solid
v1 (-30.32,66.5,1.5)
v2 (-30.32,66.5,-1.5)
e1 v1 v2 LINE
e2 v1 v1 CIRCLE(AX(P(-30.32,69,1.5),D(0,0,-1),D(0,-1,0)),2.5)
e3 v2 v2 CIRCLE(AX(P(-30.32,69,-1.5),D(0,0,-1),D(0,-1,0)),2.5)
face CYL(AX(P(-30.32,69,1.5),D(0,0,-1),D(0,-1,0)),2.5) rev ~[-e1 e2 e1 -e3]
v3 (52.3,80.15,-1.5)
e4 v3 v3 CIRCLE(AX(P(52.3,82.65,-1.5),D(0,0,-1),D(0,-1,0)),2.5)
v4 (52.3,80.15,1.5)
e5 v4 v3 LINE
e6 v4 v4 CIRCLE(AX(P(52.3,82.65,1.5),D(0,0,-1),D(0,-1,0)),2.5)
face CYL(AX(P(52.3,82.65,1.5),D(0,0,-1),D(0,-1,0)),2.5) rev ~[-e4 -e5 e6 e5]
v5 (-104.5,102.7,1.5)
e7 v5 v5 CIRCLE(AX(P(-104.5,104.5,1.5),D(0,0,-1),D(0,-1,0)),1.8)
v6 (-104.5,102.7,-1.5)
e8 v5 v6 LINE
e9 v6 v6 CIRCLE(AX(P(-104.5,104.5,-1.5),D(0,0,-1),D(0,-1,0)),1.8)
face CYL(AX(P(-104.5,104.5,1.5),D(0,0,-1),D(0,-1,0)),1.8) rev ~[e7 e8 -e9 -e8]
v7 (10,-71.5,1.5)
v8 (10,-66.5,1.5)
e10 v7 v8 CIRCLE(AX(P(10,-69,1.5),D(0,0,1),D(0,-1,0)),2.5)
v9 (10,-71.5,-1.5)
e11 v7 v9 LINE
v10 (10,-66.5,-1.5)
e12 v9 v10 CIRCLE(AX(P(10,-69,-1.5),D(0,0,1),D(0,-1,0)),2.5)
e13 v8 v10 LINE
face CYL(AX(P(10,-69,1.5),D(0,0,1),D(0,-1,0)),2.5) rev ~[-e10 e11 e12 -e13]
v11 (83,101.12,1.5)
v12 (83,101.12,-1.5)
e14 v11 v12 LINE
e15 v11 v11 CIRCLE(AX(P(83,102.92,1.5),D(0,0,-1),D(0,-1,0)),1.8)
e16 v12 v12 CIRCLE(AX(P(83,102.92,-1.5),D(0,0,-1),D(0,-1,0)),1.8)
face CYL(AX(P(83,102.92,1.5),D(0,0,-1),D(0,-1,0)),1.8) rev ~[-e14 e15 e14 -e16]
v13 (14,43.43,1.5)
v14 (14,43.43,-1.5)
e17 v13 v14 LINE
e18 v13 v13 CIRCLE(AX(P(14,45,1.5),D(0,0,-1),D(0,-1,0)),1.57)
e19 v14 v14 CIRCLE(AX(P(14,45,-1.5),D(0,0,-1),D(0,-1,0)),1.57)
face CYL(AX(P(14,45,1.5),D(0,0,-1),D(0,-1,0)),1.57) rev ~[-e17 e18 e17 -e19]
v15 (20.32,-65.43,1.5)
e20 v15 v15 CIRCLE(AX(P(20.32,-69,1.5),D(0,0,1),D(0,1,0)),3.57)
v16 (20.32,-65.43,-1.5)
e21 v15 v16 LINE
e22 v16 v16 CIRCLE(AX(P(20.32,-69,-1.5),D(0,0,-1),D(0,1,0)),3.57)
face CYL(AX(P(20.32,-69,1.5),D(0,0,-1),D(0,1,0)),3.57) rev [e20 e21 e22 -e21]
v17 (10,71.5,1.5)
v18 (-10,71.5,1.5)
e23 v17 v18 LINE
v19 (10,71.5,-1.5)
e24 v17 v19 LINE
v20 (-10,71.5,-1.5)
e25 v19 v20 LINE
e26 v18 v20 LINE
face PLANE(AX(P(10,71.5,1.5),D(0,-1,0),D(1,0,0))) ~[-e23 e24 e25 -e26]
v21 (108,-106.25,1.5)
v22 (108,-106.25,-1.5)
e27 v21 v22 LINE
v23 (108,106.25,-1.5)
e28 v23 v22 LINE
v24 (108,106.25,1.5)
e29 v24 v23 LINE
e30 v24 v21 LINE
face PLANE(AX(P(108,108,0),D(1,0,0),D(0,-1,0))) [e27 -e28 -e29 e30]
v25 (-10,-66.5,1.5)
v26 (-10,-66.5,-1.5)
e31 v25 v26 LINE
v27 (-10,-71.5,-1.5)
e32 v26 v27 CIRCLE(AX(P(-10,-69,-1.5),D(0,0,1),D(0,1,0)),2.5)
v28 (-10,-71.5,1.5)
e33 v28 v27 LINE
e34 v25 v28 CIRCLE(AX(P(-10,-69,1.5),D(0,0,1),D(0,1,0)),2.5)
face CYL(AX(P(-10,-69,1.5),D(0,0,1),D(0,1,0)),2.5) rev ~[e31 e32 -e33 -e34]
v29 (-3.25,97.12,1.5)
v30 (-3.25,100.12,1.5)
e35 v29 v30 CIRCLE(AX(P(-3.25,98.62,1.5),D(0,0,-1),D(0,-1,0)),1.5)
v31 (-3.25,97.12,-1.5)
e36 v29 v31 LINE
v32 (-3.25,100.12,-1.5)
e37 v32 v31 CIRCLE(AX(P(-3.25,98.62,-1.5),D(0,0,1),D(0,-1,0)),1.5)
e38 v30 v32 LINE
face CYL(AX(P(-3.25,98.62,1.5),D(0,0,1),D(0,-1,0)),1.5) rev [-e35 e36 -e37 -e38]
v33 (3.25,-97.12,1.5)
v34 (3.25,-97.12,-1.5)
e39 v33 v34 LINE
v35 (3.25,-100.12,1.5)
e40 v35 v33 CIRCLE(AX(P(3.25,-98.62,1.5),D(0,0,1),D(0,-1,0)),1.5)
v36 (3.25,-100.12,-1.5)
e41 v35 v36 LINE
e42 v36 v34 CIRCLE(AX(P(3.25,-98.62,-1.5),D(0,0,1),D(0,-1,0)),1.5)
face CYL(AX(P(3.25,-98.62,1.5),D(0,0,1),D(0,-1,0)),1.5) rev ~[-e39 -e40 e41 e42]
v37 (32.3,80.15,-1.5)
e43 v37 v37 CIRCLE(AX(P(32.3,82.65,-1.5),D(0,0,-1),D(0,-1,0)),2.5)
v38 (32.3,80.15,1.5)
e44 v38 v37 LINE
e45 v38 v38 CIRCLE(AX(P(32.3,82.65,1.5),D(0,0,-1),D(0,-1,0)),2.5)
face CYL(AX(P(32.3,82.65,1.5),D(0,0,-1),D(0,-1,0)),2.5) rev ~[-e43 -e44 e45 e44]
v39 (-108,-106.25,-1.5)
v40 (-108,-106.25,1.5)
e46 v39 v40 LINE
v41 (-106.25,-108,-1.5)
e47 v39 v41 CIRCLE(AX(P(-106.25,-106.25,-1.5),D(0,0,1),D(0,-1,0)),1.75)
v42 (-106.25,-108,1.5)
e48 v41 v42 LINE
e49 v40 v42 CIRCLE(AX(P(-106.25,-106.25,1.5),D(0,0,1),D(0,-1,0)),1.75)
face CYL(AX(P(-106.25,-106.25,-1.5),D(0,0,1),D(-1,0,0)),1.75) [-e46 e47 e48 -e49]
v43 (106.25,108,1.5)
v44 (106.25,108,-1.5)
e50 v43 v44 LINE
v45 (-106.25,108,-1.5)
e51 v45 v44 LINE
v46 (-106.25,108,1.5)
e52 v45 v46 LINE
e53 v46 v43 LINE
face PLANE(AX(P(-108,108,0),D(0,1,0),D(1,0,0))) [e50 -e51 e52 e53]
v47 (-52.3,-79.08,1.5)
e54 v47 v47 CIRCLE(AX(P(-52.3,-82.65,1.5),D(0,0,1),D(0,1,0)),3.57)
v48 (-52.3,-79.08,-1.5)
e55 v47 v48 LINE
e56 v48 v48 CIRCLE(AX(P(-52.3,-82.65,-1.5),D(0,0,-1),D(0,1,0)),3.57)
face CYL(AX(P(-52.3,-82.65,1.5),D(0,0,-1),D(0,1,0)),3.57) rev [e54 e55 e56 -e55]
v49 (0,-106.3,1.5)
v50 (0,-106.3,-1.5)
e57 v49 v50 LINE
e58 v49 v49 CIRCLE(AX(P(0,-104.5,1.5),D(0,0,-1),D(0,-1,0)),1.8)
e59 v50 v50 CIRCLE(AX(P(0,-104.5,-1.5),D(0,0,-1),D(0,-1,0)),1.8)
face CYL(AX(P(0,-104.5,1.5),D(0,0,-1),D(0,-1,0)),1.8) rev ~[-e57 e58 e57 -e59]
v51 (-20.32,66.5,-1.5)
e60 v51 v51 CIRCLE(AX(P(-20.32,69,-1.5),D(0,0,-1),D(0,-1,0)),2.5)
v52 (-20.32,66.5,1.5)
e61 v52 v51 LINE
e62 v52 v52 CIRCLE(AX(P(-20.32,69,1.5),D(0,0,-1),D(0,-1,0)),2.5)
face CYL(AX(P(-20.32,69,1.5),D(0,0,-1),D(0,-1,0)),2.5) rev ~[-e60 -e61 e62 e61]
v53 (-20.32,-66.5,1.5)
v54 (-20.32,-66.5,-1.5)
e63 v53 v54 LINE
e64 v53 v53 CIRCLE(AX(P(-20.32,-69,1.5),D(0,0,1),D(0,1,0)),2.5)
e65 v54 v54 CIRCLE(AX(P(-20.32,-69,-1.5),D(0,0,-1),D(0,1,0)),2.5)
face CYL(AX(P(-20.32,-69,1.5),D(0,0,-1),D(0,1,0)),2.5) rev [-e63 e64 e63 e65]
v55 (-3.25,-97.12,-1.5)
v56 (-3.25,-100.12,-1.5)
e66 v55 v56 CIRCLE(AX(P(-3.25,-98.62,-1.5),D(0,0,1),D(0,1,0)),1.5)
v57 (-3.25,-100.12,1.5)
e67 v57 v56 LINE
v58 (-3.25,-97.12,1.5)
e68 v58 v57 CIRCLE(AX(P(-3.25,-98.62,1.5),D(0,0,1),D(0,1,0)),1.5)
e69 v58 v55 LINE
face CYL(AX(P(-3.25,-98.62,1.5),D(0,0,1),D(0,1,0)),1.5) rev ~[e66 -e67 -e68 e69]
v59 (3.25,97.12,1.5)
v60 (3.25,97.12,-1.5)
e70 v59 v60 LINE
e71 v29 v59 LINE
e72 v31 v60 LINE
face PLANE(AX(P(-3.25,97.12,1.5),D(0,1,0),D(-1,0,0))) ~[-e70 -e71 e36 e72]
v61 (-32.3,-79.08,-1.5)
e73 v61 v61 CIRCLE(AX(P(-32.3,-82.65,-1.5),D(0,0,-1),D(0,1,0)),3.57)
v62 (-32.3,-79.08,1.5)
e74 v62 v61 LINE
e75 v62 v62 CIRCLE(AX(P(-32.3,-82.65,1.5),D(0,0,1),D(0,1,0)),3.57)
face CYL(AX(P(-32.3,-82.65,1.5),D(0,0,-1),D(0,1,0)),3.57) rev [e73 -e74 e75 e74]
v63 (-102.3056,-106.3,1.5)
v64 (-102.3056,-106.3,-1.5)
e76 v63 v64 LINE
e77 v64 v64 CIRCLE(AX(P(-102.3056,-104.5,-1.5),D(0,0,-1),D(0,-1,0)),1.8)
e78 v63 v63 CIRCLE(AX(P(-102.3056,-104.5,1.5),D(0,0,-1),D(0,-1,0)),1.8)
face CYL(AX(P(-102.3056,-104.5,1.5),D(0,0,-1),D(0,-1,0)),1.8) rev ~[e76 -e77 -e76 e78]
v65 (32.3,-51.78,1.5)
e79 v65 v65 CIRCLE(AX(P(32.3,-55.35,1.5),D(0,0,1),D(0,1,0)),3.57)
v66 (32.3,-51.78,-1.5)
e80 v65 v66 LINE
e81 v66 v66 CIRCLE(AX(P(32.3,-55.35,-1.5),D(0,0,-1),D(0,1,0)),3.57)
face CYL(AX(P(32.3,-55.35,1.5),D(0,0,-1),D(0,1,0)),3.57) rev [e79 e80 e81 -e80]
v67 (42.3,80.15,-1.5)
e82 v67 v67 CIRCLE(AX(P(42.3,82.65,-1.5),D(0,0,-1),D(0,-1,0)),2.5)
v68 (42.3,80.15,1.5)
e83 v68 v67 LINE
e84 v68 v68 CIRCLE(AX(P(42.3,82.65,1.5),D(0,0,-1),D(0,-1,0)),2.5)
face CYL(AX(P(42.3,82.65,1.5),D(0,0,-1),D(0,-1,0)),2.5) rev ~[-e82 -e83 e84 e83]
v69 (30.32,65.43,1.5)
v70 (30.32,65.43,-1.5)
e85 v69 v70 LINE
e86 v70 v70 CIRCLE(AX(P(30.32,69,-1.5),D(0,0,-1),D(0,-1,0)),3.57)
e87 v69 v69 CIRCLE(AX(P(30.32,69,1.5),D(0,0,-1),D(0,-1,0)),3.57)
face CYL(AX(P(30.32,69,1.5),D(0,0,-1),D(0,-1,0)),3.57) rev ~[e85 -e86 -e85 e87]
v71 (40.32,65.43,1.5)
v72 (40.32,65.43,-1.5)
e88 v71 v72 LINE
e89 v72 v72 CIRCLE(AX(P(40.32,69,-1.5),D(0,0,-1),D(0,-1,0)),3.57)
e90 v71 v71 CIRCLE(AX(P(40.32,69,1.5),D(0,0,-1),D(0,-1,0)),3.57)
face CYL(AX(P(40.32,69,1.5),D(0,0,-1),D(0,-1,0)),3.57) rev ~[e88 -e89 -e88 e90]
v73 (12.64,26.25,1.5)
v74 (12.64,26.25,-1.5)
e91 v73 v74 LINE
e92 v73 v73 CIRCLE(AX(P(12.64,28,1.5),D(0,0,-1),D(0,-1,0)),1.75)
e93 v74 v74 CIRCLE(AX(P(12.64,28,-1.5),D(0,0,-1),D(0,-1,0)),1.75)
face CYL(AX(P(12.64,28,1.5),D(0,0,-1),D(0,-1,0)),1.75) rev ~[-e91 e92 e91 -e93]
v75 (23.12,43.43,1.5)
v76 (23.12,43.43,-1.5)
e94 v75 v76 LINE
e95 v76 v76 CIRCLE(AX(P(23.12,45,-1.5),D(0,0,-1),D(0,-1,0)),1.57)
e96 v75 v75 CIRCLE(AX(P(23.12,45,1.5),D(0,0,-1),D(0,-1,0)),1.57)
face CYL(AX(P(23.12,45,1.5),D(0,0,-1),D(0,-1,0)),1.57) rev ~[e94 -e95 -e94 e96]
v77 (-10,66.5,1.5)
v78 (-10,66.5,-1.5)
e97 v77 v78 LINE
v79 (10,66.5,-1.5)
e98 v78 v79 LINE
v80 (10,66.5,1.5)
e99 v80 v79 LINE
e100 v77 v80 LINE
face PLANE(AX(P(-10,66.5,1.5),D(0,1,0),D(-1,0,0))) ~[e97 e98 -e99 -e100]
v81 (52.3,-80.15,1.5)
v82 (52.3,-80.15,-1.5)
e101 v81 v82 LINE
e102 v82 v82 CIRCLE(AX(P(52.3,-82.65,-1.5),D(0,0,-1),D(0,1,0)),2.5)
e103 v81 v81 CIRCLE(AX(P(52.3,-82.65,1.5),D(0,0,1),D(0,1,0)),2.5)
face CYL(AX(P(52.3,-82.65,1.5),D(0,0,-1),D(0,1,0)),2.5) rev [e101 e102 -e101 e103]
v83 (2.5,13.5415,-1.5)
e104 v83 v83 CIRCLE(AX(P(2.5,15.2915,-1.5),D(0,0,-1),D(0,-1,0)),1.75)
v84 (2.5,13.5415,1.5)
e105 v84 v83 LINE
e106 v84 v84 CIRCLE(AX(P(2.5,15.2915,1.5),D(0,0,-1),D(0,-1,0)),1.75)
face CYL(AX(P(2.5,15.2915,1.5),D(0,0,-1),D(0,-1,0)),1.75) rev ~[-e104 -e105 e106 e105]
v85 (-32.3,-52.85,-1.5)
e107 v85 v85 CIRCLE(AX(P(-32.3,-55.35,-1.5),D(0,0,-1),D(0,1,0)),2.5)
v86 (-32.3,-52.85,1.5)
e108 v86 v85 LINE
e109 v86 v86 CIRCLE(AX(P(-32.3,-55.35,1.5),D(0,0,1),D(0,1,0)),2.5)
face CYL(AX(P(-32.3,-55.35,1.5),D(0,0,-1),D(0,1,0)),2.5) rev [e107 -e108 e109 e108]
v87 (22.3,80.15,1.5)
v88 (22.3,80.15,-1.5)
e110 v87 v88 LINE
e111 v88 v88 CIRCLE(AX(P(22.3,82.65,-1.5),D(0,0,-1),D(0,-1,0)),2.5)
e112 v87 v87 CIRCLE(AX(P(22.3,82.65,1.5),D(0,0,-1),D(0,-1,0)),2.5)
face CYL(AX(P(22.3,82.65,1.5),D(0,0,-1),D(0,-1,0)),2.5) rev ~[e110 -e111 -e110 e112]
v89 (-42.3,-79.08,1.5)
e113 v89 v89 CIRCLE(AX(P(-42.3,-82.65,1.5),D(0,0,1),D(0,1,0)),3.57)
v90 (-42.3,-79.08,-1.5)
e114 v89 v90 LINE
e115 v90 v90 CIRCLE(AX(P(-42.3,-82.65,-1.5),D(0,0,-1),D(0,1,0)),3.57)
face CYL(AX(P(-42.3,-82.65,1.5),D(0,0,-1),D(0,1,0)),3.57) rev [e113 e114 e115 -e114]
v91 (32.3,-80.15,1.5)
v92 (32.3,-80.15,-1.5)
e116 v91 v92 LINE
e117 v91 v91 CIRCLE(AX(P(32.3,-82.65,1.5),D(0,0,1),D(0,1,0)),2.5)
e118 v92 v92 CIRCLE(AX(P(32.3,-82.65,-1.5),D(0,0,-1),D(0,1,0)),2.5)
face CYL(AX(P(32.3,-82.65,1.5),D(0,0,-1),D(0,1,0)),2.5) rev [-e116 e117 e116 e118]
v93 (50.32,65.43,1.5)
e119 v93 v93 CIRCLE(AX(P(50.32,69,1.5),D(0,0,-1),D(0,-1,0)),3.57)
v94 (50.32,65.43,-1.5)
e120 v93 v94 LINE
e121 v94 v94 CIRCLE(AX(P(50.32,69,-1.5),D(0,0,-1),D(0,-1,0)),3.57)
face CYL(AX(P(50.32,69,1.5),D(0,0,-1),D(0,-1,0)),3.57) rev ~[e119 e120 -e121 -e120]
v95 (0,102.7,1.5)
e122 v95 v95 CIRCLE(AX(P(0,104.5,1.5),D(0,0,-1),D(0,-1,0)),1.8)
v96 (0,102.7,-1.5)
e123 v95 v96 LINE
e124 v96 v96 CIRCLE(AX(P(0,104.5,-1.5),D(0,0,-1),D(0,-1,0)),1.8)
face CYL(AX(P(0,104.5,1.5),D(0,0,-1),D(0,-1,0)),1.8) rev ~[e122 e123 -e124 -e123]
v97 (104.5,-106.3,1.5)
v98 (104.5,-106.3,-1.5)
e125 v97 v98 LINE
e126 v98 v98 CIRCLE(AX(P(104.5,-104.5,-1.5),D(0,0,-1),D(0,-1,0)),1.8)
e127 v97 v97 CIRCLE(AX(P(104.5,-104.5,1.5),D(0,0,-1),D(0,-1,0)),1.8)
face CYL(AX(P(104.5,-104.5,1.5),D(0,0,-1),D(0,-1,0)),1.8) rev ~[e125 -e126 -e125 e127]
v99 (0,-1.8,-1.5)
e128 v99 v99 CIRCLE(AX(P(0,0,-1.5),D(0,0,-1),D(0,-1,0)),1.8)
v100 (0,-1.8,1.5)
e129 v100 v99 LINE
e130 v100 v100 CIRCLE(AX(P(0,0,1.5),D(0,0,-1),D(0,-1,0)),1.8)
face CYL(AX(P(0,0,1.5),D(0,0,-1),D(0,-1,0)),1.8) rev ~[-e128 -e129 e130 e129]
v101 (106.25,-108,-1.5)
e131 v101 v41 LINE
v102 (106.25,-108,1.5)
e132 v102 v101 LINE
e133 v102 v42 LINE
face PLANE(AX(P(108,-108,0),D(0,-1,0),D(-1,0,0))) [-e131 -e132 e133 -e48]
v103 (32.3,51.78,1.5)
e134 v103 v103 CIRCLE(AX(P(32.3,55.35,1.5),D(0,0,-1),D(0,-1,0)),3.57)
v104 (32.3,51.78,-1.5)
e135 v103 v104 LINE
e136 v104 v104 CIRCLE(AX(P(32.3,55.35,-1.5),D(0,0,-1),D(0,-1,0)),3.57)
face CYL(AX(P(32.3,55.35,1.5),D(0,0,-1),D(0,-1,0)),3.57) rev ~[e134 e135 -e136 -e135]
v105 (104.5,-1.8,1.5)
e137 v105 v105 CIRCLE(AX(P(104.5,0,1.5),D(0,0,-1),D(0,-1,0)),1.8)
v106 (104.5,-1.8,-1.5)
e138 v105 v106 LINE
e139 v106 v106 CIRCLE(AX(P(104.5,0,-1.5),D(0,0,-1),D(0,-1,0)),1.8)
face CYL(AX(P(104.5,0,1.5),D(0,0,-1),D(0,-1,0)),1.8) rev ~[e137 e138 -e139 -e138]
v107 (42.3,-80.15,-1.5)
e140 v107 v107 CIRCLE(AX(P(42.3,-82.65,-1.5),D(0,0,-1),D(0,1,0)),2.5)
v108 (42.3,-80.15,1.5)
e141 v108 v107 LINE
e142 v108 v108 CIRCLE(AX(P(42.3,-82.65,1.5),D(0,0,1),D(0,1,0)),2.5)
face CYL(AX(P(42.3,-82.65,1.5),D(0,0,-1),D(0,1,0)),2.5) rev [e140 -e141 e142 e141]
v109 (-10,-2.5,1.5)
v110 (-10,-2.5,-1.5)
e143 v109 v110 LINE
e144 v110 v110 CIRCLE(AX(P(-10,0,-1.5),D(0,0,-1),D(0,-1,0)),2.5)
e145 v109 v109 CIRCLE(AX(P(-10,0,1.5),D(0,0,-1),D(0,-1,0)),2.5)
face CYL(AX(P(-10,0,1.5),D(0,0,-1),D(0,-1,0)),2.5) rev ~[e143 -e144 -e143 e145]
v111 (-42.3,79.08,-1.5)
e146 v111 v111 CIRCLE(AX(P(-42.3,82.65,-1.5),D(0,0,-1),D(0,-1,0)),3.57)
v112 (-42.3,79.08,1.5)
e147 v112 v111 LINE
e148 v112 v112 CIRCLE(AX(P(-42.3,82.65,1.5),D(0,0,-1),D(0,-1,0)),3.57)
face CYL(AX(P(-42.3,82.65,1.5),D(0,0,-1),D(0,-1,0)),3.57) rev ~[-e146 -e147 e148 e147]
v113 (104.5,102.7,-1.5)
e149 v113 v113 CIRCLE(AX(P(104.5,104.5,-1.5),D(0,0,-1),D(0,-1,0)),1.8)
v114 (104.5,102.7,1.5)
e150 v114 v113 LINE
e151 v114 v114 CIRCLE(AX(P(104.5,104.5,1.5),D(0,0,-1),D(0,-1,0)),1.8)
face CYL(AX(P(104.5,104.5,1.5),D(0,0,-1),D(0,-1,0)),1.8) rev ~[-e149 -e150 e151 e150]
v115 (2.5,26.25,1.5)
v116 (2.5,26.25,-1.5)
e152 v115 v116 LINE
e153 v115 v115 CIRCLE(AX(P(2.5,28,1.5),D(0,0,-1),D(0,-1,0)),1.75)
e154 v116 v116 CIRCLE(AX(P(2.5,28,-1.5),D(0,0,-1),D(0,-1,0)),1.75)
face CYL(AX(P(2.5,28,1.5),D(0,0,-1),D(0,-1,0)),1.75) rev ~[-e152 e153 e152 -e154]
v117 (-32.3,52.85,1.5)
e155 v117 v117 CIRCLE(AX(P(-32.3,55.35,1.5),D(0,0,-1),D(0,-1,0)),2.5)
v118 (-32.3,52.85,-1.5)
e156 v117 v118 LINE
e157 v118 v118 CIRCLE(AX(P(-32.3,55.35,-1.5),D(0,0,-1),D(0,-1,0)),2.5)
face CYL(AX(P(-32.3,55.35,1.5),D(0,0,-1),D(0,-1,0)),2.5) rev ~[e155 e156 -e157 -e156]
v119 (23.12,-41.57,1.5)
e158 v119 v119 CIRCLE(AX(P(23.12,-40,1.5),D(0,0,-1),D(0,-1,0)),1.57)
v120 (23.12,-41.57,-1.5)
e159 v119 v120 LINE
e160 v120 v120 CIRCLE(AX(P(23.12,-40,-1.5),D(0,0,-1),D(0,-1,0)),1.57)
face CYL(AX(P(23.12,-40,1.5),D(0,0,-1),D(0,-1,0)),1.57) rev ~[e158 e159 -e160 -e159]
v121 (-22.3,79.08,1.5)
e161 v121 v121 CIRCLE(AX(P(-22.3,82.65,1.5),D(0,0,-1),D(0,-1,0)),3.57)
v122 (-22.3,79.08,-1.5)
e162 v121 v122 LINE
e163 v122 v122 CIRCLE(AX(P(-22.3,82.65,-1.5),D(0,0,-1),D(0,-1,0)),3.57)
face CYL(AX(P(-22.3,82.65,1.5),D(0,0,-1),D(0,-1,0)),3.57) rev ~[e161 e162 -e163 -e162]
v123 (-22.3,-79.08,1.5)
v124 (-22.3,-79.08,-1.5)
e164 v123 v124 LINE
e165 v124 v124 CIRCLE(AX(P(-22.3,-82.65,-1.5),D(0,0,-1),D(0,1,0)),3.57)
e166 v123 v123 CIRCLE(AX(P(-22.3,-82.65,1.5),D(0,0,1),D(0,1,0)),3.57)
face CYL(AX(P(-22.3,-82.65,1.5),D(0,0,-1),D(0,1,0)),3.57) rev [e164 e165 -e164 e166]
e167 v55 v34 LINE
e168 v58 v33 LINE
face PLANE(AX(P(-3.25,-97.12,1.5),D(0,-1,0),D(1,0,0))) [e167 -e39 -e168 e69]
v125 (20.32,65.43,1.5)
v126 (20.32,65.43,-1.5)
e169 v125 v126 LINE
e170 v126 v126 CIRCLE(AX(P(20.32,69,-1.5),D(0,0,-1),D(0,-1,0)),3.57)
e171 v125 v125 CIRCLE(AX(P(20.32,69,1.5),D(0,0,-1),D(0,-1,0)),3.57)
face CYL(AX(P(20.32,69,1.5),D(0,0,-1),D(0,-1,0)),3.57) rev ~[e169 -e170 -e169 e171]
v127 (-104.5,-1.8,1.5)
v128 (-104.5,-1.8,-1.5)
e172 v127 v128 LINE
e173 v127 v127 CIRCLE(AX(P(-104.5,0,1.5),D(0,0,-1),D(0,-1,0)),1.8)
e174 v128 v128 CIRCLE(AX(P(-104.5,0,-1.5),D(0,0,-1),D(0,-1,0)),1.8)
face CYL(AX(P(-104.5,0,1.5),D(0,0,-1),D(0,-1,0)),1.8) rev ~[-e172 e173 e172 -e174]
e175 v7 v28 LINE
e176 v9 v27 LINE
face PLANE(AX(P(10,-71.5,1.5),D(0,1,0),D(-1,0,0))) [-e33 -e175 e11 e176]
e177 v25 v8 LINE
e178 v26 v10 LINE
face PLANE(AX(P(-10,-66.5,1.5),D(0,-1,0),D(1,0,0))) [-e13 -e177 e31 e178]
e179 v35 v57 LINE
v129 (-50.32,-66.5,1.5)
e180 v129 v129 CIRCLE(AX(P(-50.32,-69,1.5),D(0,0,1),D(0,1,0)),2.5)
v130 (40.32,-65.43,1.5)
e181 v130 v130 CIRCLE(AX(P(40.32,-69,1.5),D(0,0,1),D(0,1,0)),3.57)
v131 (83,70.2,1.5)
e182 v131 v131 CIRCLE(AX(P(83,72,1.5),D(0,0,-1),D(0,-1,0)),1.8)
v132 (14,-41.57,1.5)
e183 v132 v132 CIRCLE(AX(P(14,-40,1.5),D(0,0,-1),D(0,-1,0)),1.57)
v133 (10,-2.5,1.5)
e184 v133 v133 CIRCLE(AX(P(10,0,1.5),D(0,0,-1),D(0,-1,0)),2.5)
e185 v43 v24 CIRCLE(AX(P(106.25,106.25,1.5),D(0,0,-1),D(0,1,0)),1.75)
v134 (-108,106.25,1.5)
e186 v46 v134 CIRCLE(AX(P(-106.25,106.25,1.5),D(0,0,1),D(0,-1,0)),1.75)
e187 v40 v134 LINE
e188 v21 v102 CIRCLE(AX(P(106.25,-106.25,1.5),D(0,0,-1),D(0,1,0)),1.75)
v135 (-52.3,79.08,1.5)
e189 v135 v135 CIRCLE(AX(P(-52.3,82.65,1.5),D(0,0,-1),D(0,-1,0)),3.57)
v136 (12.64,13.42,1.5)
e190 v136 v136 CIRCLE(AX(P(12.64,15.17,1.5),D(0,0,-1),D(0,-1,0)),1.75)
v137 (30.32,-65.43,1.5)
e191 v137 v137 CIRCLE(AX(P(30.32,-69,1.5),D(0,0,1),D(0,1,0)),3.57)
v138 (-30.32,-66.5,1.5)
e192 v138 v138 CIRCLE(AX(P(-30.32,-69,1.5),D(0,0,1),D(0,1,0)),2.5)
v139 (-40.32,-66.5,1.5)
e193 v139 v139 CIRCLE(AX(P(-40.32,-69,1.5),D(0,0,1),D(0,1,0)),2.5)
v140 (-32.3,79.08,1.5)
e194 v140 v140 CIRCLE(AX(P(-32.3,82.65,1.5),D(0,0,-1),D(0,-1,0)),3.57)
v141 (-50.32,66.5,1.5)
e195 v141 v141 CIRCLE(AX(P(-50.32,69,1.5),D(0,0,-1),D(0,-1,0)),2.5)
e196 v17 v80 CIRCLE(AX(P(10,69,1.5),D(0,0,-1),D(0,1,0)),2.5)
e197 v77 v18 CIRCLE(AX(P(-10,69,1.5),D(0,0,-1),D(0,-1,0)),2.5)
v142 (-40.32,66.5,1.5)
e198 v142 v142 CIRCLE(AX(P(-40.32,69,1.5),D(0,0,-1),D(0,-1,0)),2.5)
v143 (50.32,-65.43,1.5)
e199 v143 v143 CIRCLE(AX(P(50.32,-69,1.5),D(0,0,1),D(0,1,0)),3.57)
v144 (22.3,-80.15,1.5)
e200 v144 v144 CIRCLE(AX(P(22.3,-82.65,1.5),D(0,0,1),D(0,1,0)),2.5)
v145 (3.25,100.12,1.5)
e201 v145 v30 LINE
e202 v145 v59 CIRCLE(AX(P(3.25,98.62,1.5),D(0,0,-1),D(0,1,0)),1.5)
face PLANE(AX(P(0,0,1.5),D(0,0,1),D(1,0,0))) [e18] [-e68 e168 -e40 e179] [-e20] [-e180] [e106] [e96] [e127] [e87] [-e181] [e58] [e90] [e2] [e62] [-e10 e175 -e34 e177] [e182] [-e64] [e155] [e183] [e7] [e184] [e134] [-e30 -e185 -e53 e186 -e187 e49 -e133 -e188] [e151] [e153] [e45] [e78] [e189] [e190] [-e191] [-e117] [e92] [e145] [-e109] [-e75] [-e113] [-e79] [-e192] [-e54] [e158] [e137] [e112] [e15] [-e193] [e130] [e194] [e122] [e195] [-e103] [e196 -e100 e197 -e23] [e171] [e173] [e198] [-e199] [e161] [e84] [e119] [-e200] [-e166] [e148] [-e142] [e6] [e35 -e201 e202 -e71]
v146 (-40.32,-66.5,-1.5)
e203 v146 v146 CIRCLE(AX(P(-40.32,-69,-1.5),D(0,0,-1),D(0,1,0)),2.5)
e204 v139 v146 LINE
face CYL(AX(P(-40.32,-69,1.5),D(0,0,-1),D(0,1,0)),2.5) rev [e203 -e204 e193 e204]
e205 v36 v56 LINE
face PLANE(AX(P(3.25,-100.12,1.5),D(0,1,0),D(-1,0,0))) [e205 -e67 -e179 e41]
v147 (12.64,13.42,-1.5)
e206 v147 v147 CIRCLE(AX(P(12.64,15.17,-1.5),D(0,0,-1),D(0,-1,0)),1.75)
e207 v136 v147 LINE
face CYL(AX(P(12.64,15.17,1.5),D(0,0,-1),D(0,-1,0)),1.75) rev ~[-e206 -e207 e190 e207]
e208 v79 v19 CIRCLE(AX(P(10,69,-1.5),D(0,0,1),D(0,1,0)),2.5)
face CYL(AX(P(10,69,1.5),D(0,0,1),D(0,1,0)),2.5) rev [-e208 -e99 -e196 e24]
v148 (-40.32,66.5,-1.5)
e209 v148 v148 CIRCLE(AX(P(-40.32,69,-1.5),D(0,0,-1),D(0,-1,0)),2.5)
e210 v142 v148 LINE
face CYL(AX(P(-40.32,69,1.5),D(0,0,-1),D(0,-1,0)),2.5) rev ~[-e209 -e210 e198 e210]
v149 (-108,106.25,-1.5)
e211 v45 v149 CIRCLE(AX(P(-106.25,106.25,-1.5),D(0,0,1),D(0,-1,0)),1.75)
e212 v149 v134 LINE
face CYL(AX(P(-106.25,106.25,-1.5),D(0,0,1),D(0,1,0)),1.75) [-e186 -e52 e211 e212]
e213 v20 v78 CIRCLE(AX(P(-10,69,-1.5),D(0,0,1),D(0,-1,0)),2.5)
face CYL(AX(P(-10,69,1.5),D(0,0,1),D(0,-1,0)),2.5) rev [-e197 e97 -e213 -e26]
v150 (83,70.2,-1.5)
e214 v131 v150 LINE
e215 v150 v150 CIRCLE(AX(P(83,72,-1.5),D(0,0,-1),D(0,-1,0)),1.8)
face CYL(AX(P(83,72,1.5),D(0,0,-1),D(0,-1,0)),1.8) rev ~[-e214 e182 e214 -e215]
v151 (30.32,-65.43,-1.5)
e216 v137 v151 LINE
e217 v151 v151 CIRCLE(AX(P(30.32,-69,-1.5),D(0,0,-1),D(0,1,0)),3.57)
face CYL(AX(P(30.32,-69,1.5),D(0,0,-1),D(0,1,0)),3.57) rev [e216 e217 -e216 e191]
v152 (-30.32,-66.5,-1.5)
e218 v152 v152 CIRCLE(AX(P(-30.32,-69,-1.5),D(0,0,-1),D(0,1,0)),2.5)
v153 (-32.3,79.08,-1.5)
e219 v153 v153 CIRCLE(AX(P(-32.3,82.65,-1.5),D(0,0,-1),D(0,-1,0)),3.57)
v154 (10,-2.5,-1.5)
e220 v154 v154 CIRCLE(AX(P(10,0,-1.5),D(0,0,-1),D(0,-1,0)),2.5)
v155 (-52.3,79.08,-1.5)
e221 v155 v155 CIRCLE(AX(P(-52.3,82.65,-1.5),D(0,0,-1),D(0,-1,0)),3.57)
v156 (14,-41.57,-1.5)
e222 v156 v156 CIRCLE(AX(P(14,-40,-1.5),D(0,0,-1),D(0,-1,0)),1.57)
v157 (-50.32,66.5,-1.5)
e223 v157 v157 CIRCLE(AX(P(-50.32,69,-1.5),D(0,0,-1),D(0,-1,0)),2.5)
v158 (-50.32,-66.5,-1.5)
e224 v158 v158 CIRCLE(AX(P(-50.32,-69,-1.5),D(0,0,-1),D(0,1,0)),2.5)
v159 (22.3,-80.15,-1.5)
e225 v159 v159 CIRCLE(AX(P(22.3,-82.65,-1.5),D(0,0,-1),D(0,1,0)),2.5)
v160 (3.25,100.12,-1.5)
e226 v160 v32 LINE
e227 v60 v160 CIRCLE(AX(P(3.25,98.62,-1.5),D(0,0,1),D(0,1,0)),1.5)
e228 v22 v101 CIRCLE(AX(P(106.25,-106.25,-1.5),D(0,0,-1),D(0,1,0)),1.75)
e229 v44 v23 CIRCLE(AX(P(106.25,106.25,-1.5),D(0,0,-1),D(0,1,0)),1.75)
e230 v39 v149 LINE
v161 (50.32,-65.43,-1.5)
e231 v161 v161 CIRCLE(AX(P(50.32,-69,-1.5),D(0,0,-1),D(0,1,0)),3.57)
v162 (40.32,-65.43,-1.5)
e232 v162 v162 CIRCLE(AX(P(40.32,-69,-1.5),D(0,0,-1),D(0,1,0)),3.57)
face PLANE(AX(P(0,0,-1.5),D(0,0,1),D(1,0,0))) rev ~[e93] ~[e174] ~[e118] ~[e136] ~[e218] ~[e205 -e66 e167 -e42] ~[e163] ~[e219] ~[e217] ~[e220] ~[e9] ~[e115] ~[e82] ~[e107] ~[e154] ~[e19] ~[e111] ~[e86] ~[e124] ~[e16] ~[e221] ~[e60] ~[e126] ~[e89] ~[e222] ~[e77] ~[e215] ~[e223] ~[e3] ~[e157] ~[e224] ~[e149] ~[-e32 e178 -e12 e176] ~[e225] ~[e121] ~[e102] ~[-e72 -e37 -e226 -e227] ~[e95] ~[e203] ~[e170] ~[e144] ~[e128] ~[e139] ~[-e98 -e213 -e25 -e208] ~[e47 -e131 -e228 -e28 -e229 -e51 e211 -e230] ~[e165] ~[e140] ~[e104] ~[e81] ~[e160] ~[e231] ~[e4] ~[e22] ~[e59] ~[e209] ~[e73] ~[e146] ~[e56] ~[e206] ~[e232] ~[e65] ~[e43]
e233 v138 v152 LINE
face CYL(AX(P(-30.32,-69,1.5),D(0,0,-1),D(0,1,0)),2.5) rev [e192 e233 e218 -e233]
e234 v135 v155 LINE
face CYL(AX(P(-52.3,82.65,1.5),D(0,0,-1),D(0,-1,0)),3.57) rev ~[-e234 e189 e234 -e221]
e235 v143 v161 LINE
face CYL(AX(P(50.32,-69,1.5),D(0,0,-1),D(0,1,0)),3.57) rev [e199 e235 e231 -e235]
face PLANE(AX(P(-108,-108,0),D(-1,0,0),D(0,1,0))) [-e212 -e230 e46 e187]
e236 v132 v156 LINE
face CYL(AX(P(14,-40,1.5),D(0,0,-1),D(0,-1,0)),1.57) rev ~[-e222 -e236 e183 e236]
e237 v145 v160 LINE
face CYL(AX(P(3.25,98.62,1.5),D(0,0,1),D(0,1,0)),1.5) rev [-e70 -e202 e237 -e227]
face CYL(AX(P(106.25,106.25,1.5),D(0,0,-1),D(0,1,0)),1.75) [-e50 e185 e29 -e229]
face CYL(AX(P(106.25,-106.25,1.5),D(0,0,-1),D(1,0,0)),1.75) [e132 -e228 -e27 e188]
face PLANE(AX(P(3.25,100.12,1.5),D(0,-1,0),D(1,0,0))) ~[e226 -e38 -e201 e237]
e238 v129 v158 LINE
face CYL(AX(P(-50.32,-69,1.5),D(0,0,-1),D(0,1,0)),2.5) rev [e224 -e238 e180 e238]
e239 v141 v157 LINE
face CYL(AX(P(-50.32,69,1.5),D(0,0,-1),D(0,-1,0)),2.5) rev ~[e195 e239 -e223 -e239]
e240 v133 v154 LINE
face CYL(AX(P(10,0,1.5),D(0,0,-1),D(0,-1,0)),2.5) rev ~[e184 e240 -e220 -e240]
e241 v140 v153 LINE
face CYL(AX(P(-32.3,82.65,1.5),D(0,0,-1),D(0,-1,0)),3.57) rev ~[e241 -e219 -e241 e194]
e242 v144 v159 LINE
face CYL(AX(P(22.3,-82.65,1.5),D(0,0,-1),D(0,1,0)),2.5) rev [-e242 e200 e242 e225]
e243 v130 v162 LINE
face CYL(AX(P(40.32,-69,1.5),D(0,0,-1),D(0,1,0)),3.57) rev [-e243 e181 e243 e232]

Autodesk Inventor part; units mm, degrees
ref_plane "YZ Plane" through (0, 0, 0) normal (1, 0, 0) x (0, 1, 0)
ref_plane "XZ Plane" through (0, 0, 0) normal (0, 1, 0) x (-1, 0, 0)
ref_plane "XY Plane" through (0, 0, 0) normal (0, 0, 1) x (1, 0, 0)
sketch "Sketch1" plane through (0, 0, 0) normal (0, 0, 1) x (1, 0, 0)
  line L0 (-108, 108) -> (108, 108)
  line L1 (108, 108) -> (108, -108)
  line L2 (108, -108) -> (-108, -108)
  line L3 (-108, -108) -> (-108, 108)
  line L4 (-108, 108) -> (108, -108) construction
  line L5 (108, 108) -> (-108, -108) construction
  point P0 (0, 0)
  dimension "d0" = 216
  dimension "d2" = 216
extrude "Extrusion1" add sketch "Sketch1" along normal mid plane 3
sketch "Sketch2" plane through (0, 0, 1.5) normal (0, 0, 1) x (1, 0, 0)
  line L0 (108, 108) -> (-108, 108) projected
  line L1 (-108, 108) -> (-108, -108) projected
  line L2 (-108, -108) -> (108, -108) projected
  line L3 (108, -108) -> (108, 108) projected
  circle A0 centre (104.5, -104.5) radius 1.8 construction
  line L4 (102.7, -104.5) -> (-104.5, -104.5) construction
  line L5 (104.5, 104.5) -> (-104.5, 104.5) construction
  line L6 (104.5, 104.5) -> (104.5, -104.5) construction
  line L7 (-104.5, 104.5) -> (-104.5, -104.5) construction
  line L8 (0, 104.5) -> (0, -104.5) construction
  point P0 (0, 0)
  point P1 (-102.3056, -104.5)
  point P2 (104.5, 0)
  point P3 (-104.5, 0)
  point P4 (0, 0)
  dimension "d6" = 3.6
  dimension "d5" = 3.5
  dimension "d7" = 1.7
  dimension "d8" = 3.5
  dimension "d9" = 3.5
  dimension "d10" = 3.5
  dimension "d11" = 3.5
  dimension "d13" = 108
hole "Hole1" at (104.5, 104.5, 1.5) at (104.5, -104.5, 1.5) at (-102.3056, -104.5, 1.5) at (-104.5, 104.5, 1.5) at (104.5, 0, 1.5) at (-104.5, 0, 1.5) at (0, 104.5, 1.5) at (0, -104.5, 1.5) at (0, 0, 1.5) direction (0, 0, -1) diameter 3.6 end through all
sketch "Sketch3" plane through (0, 0, 1.5) normal (0, 0, 1) x (1, 0, 0)
  line L0 (108, 108) -> (-108, 108) projected
  line L1 (-108, 108) -> (-108, -108) projected
  line L2 (108, -108) -> (108, 108) projected
  line L3 (-108, 82.65) -> (108, 82.65) construction
  line L4 (-108, 69) -> (108, 69) construction
  point P0 (-52.3, 82.65)
  point P1 (-42.3, 82.65)
  point P2 (-32.3, 82.65)
  point P3 (-22.3, 82.65)
  point P4 (20.32, 69)
  point P5 (30.32, 69)
  point P6 (40.32, 69)
  point P7 (50.32, 69)
  dimension "d21" = 25.35
  dimension "d23" = 39
  dimension "d24" = 160.3
  dimension "d25" = 150.3
  dimension "d26" = 140.3
  dimension "d27" = 130.3
  dimension "d28" = 57.68
  dimension "d29" = 67.68
  dimension "d30" = 77.68
  dimension "d31" = 87.68
hole "Hole2" at (-52.3, 82.65, 1.5) at (-42.3, 82.65, 1.5) at (-32.3, 82.65, 1.5) at (-22.3, 82.65, 1.5) at (20.32, 69, 1.5) at (30.32, 69, 1.5) at (40.32, 69, 1.5) at (50.32, 69, 1.5) direction (0, 0, -1) diameter 7.14 end through all
sketch "Sketch4" plane through (0, 0, 1.5) normal (0, 0, 1) x (1, 0, 0)
  line L0 (-108, 108) -> (-108, -108) projected
  line L1 (108, -108) -> (108, 108) projected
  line L2 (-108, 82.65) -> (108, 82.65) construction
  line L3 (-108, 69) -> (108, 69) construction
  point P0 (-50.32, 69)
  point P1 (-40.32, 69)
  point P2 (-30.32, 69)
  point P3 (-20.32, 69)
  point P4 (22.3, 82.65)
  point P5 (32.3, 82.65)
  point P6 (42.3, 82.65)
  point P7 (52.3, 82.65)
  dimension "d125" = 158.32
  dimension "d126" = 148.32
  dimension "d127" = 138.32
  dimension "d128" = 128.32
  dimension "d129" = 55.7
  dimension "d130" = 65.7
  dimension "d131" = 75.7
  dimension "d132" = 85.7
hole "Hole3" at (-50.32, 69, 1.5) at (-40.32, 69, 1.5) at (-30.32, 69, 1.5) at (-20.32, 69, 1.5) at (22.3, 82.65, 1.5) at (32.3, 82.65, 1.5) at (42.3, 82.65, 1.5) at (52.3, 82.65, 1.5) direction (0, 0, -1) diameter 5 end through all
sketch "Sketch5" plane through (0, 0, 1.5) normal (0, 0, 1) x (1, 0, 0)
  circle A0 centre (0, 0) radius 1.8 projected
  line L0 (-108, 108) -> (-108, -108) projected
  line L1 (108, -108) -> (108, 108) projected
  line L2 (-108, 55.35) -> (108, 55.35) construction
  point P0 (-32.3, 55.35)
  dimension "d46" = 55.35
  dimension "d47" = 75.7
hole "Hole4" at (-32.3, 55.35, 1.5) direction (0, 0, -1) diameter 5 end through all
sketch "Sketch6" plane through (0, 0, 1.5) normal (0, 0, 1) x (1, 0, 0)
  circle A0 centre (-32.3, 55.35) radius 2.5 projected
  point P0 (32.3, 55.35)
  dimension "d55" = 64.6
hole "Hole5" at (32.3, 55.35, 1.5) direction (0, 0, -1) diameter 7.14 end through all
mirror "Mirror1" about plane through (0, 0, 0) normal (0, 1, 0) of "Hole2", "Hole3", "Hole4", "Hole5"
sketch "Sketch7" plane through (0, 0, 1.5) normal (0, 0, 1) x (1, 0, 0)
  circle A0 centre (0, 0) radius 1.8 projected
  point P0 (-10, 0)
  point P1 (10, 0)
  dimension "d63" = 10
  dimension "d64" = 10
hole "Hole6" at (-10, 0, 1.5) at (10, 0, 1.5) direction (0, 0, -1) diameter 5 end through all
sketch "Sketch8" plane through (0, 0, 1.5) normal (0, 0, 1) x (1, 0, 0)
  line L0 (108, 108) -> (-108, 108) projected
  line L1 (-108, 108) -> (-108, -108) projected
  line L2 (108, -108) -> (108, 108) projected
  line L3 (2.5, 15.2915) -> (2.5, 28) construction
  point P0 (12.64, 15.17)
  point P1 (12.64, 28)
  dimension "d72" = 80
  dimension "d73" = 10.14
  dimension "d74" = 12.83
  dimension "d75" = 110.5
hole "Hole7" at (2.5, 15.2915, 1.5) at (12.64, 15.17, 1.5) at (12.64, 28, 1.5) at (2.5, 28, 1.5) direction (0, 0, -1) diameter 3.5 end through all
sketch "Sketch9" plane through (0, 0, 1.5) normal (0, 0, 1) x (1, 0, 0)
  line L0 (108, 108) -> (-108, 108) projected
  line L1 (-108, 108) -> (-108, -108) projected
  point P0 (14, 45)
  point P1 (23.12, 45)
  dimension "d83" = 122
  dimension "d84" = 63
  dimension "d85" = 9.12
hole "Hole8" at (14, 45, 1.5) at (23.12, 45, 1.5) direction (0, 0, -1) diameter 3.14 end through all
sketch "Sketch10" plane through (0, 0, 1.5) normal (0, 0, 1) x (1, 0, 0)
  circle A0 centre (14, 45) radius 1.57 projected
  line L0 (-108, -108) -> (108, -108) projected
  line L1 (108, -108) -> (108, 108) projected
  line L2 (14, 45) -> (14, -40) construction
  point P0 (23.12, -40)
  dimension "d93" = 68
  dimension "d94" = 9.12
hole "Hole9" at (14, -40, 1.5) at (23.12, -40, 1.5) direction (0, 0, -1) diameter 3.14 end through all
sketch "Sketch11" plane through (0, 0, 1.5) normal (0, 0, 1) x (1, 0, 0)
  circle A0 centre (0, -104.5) radius 1.8 projected
  line L0 (-108, -108) -> (108, -108) projected
  line L1 (-3.25, -97.12) -> (3.25, -97.12)
  line L2 (3.25, -97.12) -> (3.25, -100.12)
  line L3 (3.25, -100.12) -> (-3.25, -100.12)
  line L4 (-3.25, -100.12) -> (-3.25, -97.12)
  line L5 (-3.25, -97.12) -> (3.25, -100.12) construction
  line L6 (3.25, -97.12) -> (-3.25, -100.12) construction
  arc A1 (-3.25, -97.12) -> (-3.25, -100.12) centre (-3.25, -98.62) ccw
  arc A2 (3.25, -100.12) -> (3.25, -97.12) centre (3.25, -98.62) ccw
  point P0 (0, -98.62)
  dimension "d104" = 9.38
  dimension "d105" = 6.5
  dimension "d106" = 3
extrude "Extrusion2" cut sketch "Sketch11" against normal through all contours L1 L2 L3 L4 | L4 A1 | A2 L2
sketch "Sketch12" plane through (0, 0, 1.5) normal (0, 0, 1) x (1, 0, 0)
  circle A0 centre (0, -104.5) radius 1.8 projected
  line L0 (-108, -108) -> (108, -108) projected
  line L1 (-10, -66.5) -> (10, -66.5)
  line L2 (10, -66.5) -> (10, -71.5)
  line L3 (10, -71.5) -> (-10, -71.5)
  line L4 (-10, -71.5) -> (-10, -66.5)
  line L5 (-10, -66.5) -> (10, -71.5) construction
  line L6 (10, -66.5) -> (-10, -71.5) construction
  arc A1 (-10, -66.5) -> (-10, -71.5) centre (-10, -69) ccw
  arc A2 (10, -71.5) -> (10, -66.5) centre (10, -69) ccw
  point P0 (0, -69)
  dimension "d109" = 5
  dimension "d111" = 39
  dimension "d112" = 20
extrude "Extrusion3" cut sketch "Sketch12" against normal through all contours L1 L2 L3 L4 | L4 A1 | A2 L2
mirror "Mirror2" about plane through (0, 0, 0) normal (0, 1, 0) of "Extrusion2", "Extrusion3"
sketch "Sketch13" plane through (0, 0, 1.5) normal (0, 0, 1) x (1, 0, 0)
  circle A0 centre (104.5, 104.5) radius 1.8 projected
  line L0 (108, 108) -> (-108, 108) projected
  point P0 (83, 102.92)
  point P1 (83, 72)
  dimension "d115" = 1.58
  dimension "d116" = 21.5
  dimension "d117" = 36
hole "Hole10" at (83, 102.92, 1.5) at (83, 72, 1.5) direction (0, 0, -1) diameter 3.6 end through all
fillet "Fillet1" radius 1.75 4 edges at (-108, -108, 0) (-108, 108, 0) (108, -108, 0) (108, 108, 0)
properties part number "V-Slot Universal Build Pate" material "Aluminum 6061"
